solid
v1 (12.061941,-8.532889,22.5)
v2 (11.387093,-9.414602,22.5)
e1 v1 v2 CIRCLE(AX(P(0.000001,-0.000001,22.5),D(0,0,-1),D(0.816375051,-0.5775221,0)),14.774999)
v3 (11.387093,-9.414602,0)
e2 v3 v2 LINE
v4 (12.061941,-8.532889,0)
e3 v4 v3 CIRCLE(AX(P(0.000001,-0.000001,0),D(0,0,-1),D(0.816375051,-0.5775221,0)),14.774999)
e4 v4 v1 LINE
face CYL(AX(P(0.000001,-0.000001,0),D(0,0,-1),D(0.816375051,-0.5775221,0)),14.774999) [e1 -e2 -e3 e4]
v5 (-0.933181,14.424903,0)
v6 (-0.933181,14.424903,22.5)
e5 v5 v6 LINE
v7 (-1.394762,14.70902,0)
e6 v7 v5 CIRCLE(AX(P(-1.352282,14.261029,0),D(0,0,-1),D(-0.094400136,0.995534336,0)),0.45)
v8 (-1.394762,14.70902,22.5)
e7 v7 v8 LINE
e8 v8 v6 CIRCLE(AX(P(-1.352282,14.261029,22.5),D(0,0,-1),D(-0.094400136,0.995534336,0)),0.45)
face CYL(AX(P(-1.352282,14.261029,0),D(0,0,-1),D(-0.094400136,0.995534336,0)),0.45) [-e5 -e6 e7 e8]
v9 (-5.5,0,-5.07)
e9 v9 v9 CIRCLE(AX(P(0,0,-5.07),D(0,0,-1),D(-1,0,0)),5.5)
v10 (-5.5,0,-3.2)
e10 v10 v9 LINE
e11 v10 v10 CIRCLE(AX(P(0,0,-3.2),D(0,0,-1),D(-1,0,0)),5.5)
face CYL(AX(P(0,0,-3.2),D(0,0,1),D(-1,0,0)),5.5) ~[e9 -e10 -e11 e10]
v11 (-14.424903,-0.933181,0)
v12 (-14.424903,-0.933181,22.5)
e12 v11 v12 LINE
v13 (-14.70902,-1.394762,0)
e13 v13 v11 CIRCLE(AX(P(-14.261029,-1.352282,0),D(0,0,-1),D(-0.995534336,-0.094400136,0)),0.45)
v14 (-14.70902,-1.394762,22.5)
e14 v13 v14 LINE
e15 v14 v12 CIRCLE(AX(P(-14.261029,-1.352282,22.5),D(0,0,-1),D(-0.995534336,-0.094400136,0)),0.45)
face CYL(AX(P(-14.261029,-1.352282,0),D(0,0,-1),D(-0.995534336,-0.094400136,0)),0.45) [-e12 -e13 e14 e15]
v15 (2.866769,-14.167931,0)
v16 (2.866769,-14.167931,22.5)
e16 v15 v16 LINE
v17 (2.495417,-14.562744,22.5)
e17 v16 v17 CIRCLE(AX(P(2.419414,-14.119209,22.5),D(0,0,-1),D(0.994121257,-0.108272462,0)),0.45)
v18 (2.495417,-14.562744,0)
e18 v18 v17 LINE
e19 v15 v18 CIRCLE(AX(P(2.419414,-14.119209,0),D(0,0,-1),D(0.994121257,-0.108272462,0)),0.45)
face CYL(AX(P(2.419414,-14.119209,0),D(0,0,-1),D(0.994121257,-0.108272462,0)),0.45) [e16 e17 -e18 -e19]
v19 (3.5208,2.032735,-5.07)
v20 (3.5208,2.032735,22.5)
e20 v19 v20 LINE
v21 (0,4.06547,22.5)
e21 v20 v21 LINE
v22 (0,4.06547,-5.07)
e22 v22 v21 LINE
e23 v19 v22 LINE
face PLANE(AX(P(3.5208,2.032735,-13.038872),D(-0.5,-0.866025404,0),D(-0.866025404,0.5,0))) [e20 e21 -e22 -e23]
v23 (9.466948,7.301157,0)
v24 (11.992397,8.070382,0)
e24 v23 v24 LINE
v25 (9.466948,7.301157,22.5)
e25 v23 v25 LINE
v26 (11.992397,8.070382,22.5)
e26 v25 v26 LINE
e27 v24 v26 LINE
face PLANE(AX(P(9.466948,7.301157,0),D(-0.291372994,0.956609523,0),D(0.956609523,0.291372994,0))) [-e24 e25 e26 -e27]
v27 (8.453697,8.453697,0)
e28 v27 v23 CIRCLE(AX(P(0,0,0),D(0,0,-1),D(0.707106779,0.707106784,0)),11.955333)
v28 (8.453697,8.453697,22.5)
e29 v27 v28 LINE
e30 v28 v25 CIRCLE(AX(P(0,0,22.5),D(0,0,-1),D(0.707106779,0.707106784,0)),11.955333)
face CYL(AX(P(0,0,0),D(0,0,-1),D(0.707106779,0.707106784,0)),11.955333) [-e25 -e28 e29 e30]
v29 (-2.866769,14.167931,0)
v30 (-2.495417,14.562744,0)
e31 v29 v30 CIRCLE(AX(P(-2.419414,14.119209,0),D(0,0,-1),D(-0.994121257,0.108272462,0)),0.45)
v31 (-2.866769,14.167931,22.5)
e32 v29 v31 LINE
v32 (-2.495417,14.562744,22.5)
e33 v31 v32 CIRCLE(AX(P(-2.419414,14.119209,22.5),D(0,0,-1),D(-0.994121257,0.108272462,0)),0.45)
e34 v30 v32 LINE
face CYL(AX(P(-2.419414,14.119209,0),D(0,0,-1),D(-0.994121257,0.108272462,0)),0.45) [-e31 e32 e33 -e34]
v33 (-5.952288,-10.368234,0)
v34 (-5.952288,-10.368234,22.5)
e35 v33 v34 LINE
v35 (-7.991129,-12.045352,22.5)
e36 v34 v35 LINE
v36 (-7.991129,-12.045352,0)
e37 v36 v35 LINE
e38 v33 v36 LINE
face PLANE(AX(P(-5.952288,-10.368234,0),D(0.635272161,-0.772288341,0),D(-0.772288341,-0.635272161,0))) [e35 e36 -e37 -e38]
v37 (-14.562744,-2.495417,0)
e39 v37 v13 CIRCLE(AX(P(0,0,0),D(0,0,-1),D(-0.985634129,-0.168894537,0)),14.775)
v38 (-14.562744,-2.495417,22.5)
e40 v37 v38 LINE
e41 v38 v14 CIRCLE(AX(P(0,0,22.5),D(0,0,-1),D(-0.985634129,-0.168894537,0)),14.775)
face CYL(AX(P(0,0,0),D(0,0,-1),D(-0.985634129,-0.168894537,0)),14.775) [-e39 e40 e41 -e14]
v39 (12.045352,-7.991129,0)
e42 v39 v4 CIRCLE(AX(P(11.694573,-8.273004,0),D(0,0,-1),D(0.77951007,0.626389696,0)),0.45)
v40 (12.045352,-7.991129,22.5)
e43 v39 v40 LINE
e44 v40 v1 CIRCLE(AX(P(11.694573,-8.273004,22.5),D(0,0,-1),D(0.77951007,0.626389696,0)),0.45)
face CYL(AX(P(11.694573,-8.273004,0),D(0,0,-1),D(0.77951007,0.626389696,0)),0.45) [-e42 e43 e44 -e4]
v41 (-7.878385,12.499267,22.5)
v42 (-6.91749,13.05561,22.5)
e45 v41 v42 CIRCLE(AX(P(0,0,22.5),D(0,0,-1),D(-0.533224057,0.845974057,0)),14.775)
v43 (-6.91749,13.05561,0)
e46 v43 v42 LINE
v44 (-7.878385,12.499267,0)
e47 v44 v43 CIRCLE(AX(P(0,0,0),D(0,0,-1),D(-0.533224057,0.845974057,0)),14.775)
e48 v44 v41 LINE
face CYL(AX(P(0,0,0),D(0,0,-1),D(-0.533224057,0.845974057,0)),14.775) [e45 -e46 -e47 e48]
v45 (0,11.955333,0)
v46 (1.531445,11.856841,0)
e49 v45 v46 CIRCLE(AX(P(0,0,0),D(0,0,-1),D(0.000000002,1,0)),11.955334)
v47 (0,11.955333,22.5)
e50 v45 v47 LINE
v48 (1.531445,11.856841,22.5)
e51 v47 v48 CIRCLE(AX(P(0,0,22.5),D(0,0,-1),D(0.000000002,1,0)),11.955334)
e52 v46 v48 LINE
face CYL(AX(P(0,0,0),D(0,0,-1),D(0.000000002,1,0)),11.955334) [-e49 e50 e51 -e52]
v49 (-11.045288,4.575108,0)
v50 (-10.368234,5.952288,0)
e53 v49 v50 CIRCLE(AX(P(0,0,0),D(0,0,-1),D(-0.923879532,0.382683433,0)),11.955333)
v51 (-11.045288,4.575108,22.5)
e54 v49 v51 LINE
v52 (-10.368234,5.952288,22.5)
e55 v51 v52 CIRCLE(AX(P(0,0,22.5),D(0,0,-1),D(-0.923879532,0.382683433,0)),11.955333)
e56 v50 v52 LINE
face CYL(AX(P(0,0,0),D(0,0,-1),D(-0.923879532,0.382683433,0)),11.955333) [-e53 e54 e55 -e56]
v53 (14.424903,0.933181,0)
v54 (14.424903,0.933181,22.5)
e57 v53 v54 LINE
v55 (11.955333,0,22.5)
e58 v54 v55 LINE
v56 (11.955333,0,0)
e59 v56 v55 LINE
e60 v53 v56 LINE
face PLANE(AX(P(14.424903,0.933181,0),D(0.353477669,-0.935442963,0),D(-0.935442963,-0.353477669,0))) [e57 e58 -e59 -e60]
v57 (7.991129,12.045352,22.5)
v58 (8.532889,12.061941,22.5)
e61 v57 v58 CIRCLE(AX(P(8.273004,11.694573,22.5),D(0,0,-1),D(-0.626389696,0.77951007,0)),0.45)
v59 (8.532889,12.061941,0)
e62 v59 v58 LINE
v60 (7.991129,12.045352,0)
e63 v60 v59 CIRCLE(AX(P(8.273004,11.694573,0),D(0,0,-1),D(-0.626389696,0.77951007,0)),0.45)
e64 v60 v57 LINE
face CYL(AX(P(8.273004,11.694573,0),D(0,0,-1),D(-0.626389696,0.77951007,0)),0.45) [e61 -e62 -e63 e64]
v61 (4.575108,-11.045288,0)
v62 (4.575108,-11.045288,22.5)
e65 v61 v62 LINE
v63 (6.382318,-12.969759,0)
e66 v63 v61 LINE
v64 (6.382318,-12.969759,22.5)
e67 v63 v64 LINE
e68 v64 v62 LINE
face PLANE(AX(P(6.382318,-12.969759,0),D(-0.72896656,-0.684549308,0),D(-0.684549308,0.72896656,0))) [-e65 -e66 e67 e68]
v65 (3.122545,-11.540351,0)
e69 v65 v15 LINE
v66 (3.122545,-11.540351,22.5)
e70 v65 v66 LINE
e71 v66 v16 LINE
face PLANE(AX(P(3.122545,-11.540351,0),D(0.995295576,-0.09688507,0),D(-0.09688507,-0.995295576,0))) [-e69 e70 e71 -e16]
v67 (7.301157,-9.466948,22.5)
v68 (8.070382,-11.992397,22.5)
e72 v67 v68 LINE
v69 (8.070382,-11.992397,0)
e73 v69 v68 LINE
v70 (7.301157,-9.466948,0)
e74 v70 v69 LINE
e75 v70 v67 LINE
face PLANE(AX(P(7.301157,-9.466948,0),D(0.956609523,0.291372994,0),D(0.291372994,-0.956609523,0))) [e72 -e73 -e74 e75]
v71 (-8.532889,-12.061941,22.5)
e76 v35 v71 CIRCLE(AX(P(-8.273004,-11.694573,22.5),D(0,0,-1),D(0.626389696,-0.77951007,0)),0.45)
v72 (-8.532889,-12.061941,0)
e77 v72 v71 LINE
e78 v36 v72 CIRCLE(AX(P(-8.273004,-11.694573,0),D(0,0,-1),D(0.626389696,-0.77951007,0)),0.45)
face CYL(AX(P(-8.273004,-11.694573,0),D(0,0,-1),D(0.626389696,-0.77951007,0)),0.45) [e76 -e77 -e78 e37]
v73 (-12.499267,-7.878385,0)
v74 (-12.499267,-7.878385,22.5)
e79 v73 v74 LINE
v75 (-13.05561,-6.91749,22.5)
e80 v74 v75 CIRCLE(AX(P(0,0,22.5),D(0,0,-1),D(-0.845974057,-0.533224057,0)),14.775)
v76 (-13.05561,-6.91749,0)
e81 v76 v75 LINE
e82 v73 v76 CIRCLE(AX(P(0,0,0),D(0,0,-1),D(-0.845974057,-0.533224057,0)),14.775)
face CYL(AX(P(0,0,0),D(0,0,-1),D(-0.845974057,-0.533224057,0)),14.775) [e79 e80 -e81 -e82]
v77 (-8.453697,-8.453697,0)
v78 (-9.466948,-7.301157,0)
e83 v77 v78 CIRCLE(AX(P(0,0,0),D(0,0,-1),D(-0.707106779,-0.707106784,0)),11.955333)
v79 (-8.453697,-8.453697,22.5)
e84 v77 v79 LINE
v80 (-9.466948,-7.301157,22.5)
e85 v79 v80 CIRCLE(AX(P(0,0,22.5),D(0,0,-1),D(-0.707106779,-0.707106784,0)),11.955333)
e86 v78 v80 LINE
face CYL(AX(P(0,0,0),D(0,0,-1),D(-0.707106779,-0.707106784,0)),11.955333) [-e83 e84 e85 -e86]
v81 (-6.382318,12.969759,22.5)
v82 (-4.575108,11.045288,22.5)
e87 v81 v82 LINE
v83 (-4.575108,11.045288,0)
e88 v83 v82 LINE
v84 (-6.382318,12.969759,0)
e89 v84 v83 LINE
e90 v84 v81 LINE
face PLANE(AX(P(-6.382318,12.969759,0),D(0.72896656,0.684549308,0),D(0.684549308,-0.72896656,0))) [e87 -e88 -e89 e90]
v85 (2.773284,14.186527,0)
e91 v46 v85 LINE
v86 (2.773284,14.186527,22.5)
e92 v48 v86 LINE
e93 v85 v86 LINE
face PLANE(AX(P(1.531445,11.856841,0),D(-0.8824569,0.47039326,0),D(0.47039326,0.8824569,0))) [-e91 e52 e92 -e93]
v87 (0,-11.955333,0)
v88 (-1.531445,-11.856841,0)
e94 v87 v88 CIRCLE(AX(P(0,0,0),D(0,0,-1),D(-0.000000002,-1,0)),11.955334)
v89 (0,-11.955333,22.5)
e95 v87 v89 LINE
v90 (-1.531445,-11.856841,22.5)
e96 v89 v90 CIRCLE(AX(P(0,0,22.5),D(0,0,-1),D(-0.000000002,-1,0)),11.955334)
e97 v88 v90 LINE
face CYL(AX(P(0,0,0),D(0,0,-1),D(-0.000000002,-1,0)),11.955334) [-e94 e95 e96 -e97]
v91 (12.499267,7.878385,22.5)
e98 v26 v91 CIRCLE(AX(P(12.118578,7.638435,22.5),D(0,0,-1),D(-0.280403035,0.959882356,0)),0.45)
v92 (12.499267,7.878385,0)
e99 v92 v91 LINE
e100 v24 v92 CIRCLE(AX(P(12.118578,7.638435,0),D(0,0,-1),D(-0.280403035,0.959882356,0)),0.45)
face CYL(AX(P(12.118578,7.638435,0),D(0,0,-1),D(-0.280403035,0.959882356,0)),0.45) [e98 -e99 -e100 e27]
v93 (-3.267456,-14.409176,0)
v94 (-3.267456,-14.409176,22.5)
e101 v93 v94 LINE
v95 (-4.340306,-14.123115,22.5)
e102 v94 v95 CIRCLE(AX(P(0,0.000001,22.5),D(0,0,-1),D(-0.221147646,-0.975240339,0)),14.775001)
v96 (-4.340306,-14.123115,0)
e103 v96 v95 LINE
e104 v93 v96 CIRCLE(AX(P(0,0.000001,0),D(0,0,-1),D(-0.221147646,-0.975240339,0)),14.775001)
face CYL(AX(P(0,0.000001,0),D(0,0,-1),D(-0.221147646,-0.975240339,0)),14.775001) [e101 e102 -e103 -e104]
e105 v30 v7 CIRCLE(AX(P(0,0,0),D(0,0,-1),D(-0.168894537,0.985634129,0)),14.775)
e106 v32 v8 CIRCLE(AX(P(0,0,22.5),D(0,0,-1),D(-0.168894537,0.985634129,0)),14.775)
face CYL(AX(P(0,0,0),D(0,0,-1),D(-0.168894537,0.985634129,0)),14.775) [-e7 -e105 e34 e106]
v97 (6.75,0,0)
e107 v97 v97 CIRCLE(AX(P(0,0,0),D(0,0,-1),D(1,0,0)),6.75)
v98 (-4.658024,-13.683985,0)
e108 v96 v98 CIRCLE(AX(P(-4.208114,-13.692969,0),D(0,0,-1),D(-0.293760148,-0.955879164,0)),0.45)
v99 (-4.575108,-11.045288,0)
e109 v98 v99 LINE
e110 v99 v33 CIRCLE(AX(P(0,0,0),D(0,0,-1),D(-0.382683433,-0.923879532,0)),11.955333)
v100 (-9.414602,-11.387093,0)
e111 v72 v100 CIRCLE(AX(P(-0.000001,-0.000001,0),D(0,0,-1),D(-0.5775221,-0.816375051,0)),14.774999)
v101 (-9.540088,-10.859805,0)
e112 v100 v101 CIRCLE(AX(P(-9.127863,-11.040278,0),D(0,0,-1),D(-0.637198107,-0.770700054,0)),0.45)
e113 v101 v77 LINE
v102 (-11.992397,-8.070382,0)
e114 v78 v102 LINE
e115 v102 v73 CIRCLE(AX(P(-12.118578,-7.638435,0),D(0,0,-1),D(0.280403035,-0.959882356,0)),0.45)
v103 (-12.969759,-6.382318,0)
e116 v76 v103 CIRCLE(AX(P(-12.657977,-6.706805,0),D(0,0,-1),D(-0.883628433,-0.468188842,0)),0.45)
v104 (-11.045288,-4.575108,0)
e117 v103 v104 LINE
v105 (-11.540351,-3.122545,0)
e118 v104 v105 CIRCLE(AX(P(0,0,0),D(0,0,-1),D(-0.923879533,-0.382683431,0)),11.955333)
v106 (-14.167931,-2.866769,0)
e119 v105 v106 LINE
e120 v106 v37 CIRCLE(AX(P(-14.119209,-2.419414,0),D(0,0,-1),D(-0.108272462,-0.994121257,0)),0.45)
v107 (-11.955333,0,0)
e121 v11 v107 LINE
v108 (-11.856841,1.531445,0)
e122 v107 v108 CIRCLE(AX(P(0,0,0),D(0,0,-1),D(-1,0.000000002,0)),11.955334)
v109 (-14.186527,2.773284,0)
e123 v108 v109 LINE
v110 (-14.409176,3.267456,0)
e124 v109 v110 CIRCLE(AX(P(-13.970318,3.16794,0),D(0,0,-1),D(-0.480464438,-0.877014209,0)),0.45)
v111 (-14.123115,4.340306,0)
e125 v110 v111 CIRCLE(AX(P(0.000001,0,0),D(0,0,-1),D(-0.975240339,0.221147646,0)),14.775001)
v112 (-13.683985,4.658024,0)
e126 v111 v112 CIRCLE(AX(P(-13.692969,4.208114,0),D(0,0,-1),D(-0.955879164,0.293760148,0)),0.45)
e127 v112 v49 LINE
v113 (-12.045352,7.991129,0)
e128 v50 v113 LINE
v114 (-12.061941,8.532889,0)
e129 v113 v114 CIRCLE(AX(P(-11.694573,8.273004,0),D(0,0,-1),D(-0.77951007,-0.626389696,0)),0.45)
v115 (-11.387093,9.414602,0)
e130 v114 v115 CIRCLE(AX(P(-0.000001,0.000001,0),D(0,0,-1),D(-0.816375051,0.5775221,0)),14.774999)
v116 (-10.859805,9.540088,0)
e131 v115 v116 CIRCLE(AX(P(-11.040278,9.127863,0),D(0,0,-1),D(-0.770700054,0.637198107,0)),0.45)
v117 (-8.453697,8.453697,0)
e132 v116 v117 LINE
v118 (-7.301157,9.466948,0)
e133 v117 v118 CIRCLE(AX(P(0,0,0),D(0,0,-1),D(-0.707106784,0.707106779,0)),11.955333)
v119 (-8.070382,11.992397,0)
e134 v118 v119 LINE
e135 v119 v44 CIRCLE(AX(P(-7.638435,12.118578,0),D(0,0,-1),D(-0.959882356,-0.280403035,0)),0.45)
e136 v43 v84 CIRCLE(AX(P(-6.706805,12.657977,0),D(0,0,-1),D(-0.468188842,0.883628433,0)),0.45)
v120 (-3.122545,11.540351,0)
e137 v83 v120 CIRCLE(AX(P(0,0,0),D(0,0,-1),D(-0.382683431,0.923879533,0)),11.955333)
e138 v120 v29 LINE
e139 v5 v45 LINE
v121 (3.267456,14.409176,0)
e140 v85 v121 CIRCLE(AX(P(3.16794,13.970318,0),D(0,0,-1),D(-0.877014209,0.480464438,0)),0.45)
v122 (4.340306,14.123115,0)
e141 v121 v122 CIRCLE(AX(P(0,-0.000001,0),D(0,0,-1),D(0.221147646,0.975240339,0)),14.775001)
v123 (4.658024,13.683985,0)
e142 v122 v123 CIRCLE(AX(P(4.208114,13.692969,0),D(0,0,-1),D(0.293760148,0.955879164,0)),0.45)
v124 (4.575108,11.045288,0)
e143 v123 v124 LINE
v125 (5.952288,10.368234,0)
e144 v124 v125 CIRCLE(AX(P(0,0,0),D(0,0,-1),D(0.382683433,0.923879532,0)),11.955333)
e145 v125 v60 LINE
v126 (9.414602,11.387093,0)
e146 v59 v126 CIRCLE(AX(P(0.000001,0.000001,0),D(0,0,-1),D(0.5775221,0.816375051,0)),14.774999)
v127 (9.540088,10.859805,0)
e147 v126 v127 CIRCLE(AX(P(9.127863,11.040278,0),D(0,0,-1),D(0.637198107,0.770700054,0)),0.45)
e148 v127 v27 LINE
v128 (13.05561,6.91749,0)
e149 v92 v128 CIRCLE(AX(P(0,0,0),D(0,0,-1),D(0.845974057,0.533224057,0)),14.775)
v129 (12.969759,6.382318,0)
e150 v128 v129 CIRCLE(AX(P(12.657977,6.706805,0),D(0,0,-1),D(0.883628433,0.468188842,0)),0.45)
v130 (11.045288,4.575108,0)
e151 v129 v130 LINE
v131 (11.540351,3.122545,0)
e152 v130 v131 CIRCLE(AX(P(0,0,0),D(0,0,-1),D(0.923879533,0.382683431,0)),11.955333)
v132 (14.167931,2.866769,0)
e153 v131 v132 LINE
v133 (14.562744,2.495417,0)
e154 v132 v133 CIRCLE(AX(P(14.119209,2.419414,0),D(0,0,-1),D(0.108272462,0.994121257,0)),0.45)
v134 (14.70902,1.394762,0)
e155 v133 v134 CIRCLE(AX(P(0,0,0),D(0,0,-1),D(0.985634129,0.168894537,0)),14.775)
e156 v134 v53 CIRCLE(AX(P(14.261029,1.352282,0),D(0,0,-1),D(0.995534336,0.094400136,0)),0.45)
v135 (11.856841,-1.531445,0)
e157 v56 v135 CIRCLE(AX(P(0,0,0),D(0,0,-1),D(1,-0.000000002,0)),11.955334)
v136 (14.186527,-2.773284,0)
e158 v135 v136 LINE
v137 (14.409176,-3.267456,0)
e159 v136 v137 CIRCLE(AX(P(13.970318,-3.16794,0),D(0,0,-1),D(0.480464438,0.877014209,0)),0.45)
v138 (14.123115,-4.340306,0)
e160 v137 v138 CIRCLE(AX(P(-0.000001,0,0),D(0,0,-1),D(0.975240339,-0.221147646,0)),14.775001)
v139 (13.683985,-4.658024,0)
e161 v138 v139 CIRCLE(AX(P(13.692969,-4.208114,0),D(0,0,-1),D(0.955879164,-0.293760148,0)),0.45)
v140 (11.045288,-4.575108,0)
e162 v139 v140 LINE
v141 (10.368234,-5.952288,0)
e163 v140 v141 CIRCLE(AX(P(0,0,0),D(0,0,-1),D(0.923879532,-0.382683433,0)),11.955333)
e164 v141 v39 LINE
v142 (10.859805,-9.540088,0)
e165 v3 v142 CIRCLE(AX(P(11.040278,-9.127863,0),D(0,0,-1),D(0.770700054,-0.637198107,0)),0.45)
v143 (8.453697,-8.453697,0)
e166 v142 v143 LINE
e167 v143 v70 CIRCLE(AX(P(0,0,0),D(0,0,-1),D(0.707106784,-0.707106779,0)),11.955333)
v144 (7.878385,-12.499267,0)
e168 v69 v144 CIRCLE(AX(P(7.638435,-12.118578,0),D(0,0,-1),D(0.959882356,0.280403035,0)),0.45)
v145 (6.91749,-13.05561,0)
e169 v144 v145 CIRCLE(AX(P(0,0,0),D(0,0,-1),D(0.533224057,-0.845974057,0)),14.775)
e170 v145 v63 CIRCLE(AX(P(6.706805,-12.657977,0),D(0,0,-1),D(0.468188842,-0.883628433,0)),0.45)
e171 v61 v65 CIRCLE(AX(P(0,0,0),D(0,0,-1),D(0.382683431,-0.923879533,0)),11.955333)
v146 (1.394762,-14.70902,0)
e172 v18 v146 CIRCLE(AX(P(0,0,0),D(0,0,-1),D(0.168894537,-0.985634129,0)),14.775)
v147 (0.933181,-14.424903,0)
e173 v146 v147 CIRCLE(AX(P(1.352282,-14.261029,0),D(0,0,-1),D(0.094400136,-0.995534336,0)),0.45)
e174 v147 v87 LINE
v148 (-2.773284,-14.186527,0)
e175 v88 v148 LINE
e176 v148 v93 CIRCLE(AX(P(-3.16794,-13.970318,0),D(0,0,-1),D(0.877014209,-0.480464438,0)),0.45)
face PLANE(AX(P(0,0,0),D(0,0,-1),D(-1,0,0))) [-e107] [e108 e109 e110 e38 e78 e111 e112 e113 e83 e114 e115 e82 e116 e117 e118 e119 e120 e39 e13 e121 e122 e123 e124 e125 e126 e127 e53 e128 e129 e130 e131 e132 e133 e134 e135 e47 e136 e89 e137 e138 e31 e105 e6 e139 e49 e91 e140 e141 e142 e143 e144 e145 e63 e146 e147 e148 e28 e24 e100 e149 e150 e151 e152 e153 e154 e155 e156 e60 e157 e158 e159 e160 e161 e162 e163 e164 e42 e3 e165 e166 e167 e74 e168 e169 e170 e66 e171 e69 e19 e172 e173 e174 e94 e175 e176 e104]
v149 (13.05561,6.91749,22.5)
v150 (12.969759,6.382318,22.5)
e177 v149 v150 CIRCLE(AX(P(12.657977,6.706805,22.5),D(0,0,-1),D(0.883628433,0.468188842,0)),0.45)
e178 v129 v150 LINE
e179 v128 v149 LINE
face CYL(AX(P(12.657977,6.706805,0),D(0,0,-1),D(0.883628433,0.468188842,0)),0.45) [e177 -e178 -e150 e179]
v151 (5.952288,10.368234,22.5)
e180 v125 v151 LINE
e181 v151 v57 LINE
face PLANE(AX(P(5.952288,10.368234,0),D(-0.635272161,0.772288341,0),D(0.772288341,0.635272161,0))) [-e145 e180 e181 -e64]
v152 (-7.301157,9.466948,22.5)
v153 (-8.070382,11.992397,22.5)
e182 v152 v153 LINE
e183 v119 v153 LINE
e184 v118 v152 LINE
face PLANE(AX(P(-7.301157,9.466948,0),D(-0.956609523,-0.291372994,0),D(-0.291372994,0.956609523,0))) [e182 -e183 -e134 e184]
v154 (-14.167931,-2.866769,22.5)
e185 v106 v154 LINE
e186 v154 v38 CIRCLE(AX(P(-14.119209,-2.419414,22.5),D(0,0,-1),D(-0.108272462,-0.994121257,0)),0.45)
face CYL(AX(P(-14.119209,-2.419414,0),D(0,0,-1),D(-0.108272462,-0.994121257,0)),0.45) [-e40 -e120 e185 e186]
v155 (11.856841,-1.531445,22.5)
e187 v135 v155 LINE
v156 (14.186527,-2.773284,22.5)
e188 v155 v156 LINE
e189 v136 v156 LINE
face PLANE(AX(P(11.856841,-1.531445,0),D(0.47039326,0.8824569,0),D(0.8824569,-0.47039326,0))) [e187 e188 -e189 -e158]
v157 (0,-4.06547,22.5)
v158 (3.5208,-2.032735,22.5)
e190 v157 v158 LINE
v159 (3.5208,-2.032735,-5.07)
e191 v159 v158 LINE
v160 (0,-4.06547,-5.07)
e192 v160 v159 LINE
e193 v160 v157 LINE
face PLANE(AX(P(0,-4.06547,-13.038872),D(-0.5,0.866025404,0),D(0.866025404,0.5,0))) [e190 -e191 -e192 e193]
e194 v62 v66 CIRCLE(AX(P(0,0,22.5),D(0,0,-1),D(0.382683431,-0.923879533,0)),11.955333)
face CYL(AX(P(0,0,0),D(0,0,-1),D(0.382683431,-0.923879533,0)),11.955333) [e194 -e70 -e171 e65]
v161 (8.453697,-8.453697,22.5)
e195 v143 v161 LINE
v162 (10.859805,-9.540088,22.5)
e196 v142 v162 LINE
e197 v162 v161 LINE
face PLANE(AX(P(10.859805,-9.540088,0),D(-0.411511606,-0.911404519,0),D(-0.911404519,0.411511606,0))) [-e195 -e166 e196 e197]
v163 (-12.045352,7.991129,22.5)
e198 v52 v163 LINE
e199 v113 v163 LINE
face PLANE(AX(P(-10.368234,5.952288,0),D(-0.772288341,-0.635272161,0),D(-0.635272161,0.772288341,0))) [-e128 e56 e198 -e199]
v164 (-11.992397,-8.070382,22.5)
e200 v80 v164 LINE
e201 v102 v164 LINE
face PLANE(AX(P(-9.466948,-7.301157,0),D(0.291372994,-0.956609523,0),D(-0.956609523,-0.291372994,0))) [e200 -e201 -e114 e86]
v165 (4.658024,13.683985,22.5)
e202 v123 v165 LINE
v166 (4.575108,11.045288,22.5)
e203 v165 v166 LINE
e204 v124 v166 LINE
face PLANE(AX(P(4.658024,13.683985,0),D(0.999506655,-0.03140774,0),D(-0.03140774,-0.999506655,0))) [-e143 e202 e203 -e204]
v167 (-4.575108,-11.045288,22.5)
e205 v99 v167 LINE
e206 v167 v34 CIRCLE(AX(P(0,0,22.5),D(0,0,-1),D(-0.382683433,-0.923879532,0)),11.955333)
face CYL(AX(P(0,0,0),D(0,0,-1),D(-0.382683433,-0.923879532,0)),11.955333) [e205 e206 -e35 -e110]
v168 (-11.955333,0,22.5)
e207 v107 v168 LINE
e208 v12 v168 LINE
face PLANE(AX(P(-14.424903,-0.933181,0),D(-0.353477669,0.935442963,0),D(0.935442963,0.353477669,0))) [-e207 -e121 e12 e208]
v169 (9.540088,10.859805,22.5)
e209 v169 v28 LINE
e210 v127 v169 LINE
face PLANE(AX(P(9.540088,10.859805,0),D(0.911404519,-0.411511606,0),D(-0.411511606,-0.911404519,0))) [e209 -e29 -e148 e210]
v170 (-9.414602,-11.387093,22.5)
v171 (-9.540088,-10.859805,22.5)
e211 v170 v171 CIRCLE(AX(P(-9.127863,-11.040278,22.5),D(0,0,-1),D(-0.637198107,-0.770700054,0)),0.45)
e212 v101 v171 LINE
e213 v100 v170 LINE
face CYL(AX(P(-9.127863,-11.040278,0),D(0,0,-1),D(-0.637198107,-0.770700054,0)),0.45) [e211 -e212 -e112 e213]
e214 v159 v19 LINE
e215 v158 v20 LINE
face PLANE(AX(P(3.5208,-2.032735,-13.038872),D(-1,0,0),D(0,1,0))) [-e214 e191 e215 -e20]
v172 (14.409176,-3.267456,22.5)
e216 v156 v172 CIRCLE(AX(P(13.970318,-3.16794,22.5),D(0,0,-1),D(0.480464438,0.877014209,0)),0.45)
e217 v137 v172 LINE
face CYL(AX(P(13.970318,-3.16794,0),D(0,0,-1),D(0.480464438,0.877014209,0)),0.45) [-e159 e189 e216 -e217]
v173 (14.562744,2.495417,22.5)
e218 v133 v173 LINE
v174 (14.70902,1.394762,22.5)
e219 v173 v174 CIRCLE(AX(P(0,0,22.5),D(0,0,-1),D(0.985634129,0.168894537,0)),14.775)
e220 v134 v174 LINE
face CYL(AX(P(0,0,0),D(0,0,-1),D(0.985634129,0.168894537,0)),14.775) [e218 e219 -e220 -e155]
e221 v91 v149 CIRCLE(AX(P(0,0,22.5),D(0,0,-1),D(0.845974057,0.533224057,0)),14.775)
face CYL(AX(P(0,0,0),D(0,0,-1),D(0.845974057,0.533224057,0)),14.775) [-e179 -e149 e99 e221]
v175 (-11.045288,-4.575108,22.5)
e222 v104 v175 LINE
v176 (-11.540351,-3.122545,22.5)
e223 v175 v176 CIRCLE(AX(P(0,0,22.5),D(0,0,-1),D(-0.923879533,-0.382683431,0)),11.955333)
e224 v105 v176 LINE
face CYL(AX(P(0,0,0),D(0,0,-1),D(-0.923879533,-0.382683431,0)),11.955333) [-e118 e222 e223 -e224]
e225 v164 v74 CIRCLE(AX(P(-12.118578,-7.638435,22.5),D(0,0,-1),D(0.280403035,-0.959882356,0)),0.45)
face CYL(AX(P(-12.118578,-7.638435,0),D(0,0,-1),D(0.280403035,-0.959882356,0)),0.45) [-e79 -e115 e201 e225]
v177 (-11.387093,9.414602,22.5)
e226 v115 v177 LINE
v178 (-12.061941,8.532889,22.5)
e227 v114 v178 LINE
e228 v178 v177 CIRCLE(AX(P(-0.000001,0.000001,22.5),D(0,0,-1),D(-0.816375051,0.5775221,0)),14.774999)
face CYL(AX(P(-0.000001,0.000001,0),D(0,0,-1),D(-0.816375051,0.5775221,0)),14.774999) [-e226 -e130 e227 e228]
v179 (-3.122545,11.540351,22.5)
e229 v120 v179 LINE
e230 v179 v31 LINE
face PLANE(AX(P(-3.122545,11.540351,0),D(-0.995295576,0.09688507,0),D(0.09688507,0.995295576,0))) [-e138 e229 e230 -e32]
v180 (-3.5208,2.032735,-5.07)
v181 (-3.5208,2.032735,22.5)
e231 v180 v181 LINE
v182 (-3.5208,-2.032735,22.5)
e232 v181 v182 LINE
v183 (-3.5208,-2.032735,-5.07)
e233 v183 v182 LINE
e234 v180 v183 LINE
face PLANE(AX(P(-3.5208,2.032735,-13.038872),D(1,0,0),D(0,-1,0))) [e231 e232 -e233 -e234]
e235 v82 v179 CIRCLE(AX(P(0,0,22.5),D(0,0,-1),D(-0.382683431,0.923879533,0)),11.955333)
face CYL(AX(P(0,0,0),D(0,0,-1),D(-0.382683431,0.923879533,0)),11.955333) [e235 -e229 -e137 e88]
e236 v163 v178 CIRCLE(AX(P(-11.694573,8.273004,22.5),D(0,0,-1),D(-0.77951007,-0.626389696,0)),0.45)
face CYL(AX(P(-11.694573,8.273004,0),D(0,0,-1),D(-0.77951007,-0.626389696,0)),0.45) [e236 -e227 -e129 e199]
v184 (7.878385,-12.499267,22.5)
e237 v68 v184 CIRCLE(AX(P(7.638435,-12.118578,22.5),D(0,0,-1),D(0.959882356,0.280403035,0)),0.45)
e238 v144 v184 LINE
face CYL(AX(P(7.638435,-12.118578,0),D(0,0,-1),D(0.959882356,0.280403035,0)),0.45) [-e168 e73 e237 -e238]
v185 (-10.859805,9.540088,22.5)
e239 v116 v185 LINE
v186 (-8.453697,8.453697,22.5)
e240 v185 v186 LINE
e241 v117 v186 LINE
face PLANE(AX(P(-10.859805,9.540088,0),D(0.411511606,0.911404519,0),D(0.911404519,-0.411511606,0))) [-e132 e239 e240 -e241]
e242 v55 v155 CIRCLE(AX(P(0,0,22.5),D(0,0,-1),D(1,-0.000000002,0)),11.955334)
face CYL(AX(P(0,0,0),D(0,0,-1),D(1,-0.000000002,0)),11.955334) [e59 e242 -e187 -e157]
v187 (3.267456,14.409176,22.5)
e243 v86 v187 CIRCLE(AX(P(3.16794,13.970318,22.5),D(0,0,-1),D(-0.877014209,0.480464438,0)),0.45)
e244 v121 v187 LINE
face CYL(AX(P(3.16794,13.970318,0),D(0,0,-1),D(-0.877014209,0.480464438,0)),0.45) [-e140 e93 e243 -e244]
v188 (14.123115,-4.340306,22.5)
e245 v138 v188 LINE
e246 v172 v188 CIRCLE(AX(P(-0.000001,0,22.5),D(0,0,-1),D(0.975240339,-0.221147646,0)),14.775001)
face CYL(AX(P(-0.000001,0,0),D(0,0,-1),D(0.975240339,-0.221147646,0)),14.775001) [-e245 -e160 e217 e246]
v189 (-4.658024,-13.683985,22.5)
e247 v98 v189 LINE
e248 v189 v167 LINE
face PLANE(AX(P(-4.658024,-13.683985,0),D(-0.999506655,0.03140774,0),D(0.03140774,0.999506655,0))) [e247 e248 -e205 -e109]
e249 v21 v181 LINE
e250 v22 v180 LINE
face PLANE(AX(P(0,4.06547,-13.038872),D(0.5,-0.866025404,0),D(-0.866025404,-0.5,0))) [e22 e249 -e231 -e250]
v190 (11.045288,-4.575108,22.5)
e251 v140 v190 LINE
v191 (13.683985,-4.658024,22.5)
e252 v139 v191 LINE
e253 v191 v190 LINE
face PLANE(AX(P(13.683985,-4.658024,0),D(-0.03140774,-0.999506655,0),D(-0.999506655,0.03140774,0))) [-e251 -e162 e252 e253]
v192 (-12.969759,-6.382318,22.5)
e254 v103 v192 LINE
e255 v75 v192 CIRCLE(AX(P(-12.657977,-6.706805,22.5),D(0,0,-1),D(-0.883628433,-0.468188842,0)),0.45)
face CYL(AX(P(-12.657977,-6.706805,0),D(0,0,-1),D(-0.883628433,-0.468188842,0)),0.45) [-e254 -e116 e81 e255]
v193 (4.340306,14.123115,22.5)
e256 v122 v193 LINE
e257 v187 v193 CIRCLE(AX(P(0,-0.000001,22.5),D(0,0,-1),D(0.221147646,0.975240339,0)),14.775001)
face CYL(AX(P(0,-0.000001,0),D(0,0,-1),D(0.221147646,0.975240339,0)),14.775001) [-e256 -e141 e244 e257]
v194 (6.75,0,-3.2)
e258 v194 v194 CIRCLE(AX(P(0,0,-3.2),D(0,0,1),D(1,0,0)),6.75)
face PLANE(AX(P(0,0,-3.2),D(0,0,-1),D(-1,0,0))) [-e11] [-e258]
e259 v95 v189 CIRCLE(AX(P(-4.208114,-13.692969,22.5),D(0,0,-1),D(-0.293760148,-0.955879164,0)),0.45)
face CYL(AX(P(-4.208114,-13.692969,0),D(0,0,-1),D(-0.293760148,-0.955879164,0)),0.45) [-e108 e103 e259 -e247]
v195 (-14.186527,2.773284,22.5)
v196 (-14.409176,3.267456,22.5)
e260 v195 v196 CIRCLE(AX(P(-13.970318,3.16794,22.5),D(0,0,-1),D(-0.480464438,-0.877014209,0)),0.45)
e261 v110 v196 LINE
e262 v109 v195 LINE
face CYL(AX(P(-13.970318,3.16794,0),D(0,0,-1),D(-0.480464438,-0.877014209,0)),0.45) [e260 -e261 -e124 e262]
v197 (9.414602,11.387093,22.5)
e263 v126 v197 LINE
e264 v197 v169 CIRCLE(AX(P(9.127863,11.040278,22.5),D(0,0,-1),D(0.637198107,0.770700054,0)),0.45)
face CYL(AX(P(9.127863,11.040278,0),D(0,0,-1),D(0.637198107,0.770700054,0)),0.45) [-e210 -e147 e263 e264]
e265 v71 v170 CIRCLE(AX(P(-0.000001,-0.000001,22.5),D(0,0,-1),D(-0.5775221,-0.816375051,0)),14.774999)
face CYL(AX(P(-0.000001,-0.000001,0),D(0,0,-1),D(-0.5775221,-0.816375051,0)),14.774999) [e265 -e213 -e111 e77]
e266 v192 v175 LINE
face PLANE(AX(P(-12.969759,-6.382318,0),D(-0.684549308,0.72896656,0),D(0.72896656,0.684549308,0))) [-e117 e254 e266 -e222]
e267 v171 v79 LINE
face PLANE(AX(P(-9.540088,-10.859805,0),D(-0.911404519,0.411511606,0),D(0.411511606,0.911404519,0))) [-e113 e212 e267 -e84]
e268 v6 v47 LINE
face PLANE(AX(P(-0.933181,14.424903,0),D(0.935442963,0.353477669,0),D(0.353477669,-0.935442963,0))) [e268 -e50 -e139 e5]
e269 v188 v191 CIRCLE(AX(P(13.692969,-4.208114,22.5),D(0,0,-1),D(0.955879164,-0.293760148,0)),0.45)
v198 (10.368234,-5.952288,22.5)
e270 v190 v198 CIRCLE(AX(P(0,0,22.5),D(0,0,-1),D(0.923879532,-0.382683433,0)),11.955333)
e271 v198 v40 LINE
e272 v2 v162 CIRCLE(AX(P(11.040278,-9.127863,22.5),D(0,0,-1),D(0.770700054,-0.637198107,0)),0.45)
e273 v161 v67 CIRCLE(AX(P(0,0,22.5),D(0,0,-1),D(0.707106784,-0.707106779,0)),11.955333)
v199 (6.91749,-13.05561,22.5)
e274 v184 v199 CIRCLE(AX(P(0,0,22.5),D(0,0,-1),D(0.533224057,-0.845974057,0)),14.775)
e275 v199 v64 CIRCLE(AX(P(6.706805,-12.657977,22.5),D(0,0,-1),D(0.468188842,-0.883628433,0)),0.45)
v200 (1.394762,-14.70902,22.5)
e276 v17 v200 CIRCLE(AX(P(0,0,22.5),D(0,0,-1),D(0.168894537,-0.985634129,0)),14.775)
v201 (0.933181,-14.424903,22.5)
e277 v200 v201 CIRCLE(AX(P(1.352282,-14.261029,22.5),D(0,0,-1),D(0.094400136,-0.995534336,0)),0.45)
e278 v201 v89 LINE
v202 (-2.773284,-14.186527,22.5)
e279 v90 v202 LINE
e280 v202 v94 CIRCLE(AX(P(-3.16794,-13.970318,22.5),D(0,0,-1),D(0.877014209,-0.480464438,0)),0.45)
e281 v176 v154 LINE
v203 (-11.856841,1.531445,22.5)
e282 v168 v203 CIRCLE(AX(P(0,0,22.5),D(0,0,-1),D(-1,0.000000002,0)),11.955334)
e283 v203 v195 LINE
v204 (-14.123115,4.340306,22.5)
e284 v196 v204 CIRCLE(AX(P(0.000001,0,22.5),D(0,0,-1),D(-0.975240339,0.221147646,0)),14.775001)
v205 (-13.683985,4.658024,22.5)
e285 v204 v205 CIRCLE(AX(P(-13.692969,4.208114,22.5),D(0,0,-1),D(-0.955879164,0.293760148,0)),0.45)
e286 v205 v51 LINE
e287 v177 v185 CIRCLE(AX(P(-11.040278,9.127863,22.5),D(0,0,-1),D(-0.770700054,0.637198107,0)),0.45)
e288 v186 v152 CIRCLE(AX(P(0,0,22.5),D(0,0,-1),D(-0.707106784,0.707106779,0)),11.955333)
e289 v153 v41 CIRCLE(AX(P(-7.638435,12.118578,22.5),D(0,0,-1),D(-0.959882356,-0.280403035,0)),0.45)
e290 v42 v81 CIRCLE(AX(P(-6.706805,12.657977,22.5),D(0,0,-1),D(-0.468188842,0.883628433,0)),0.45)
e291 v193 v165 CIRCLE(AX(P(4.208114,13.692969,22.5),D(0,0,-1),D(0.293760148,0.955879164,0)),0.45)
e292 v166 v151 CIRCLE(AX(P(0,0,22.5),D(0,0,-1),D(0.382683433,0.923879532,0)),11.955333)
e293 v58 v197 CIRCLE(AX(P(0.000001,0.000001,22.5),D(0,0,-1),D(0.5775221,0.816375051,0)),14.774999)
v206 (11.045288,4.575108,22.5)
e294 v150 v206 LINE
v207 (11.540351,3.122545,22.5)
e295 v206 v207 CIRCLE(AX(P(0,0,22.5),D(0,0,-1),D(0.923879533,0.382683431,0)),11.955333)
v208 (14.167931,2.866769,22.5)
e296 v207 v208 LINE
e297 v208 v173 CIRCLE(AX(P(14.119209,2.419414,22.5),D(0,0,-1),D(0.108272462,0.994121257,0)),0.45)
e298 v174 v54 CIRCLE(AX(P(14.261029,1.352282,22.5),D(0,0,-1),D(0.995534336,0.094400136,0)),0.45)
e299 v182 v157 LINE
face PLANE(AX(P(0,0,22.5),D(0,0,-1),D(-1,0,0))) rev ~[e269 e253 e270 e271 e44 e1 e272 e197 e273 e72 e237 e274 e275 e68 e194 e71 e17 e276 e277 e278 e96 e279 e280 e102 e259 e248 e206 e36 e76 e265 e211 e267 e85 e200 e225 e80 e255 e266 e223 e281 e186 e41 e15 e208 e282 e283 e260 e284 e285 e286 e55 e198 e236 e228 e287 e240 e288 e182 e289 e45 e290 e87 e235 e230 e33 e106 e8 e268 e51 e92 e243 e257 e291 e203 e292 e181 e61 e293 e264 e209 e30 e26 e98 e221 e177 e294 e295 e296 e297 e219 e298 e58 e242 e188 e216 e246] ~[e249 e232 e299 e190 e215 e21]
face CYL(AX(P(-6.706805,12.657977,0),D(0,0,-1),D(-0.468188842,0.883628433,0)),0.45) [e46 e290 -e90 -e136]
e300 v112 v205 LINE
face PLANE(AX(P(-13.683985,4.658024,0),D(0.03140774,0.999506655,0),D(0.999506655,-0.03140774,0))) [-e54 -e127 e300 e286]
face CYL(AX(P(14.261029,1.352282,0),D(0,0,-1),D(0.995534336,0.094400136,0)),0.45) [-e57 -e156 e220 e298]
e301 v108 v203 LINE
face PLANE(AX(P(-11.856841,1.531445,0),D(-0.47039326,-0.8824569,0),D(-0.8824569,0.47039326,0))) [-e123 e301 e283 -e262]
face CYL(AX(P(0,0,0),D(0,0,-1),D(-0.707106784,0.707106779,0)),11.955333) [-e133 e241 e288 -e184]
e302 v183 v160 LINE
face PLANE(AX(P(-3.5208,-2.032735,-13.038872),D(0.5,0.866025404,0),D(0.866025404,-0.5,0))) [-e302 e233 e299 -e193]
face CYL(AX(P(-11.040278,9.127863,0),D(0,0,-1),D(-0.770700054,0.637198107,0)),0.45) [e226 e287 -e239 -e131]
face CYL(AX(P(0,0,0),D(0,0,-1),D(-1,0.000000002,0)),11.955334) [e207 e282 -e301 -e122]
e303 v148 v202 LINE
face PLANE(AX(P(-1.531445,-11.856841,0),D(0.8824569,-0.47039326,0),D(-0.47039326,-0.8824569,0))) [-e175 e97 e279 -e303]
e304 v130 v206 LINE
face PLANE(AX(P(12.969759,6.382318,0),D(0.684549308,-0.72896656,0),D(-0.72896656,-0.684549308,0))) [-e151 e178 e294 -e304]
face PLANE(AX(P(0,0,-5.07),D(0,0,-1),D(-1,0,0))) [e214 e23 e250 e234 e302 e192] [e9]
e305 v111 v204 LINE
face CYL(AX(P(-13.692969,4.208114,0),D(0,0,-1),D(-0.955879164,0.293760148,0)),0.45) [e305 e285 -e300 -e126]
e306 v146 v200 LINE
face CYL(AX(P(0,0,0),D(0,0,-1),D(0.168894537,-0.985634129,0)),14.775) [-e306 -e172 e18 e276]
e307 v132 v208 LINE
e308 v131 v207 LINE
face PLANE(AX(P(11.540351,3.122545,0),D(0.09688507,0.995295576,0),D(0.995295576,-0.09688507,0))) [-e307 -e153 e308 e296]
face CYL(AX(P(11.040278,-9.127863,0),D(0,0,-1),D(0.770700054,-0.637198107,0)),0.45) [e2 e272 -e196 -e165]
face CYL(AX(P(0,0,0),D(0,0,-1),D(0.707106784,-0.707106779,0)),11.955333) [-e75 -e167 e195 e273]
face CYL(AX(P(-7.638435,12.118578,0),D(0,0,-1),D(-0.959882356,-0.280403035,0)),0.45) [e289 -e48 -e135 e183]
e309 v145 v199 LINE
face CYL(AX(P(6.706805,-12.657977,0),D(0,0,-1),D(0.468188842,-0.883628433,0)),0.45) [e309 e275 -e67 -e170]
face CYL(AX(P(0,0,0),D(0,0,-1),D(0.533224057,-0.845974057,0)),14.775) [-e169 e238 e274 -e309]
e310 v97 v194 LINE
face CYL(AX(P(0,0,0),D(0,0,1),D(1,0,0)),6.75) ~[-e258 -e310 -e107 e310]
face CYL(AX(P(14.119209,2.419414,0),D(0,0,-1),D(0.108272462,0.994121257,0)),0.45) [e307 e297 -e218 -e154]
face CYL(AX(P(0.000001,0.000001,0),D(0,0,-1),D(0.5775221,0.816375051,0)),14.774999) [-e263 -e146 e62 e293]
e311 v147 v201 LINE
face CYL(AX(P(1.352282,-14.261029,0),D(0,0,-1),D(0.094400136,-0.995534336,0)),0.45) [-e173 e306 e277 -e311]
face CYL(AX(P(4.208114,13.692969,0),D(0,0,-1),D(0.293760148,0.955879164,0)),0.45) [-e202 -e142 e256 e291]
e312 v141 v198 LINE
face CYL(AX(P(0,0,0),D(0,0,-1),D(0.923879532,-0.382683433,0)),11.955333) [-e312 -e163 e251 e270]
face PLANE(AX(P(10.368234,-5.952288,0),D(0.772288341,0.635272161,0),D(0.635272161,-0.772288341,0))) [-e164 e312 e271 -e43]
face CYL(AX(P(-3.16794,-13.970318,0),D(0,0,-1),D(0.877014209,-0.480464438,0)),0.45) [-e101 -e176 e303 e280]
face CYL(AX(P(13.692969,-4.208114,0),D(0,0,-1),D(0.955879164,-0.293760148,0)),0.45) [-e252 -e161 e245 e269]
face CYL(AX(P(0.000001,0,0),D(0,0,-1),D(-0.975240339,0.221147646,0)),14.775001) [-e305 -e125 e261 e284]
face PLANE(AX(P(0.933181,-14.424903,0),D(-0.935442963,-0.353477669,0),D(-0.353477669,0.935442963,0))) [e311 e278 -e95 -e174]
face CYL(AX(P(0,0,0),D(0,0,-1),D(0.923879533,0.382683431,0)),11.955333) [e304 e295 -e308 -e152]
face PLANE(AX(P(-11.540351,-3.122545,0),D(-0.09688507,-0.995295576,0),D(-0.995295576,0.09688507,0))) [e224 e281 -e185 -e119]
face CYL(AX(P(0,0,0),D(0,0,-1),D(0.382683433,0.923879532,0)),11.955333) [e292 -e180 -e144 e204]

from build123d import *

# Parameters (mm, degrees)
SALIENTE_EXTRUIR1_DEPTH    = 15
CROQUIS5_R                 = 4.5
SALIENTE_EXTRUIR2_DEPTH    = 6
ESCALA1_SCALE              = 1.5
CORTAR_EXTRUIR3_DEPTH      = 38.7502155
CORTAR_EXTRUIR3_DEPTH_BACK = 5.8
CROQUIS7_R                 = 10
CROQUIS8_R                 = 5.5
SALIENTE_EXTRUIR3_DEPTH    = 1.87
CORTAR_EXTRUIR4_DEPTH      = 35.538871873
CORTAR_EXTRUIR4_DEPTH_BACK = 35.538871873


with BuildPart() as part:
    # Croquis2 → Saliente-Extruir1 (new body)
    with BuildSketch(Plane.XY):
        with BuildLine():
            Line((-2.081696937, 7.693567449), (-1.911179214, 9.445287663))
            ThreePointArc((-1.911179214, 9.445287663), (-1.831468139, 9.618345927), (-1.663611198, 9.708496165))
            ThreePointArc((-1.663611198, 9.708496165), (-1.297642615, 9.764149919), (-0.929841298, 9.806013214))
            ThreePointArc((-0.929841298, 9.806013214), (-0.744265019, 9.762833784), (-0.622120698, 9.616601835))
            Line((-0.622120698, 9.616601835), (0, 7.97022222))
            ThreePointArc((0, 7.97022222), (0.511536449, 7.953789832), (1.020963606, 7.904560428))
            Line((1.020963606, 7.904560428), (1.848855744, 9.457684572))
            ThreePointArc((1.848855744, 9.457684572), (1.988725705, 9.587065453), (2.1783043, 9.606117341))
            ThreePointArc((2.1783043, 9.606117341), (2.537712953, 9.517484592), (2.893537451, 9.415409764))
            ThreePointArc((2.893537451, 9.415409764), (3.048463524, 9.304500205), (3.105349619, 9.122656892))
            Line((3.105349619, 9.122656892), (3.050071996, 7.363525179))
            ThreePointArc((3.050071996, 7.363525179), (3.516381649, 7.152587108), (3.968191694, 6.912155736))
            Line((3.968191694, 6.912155736), (5.327419174, 8.030234739))
            ThreePointArc((5.327419174, 8.030234739), (5.506154088, 8.09624117), (5.688592714, 8.041294232))
            ThreePointArc((5.688592714, 8.041294232), (5.986724728, 7.821868513), (6.276401353, 7.591395527))
            ThreePointArc((6.276401353, 7.591395527), (6.37709113, 7.429640815), (6.360058606, 7.239870134))
            Line((6.360058606, 7.239870134), (5.635798179, 5.635798179))
            ThreePointArc((5.635798179, 5.635798179), (5.985889619, 5.262467835), (6.311298569, 4.867437992))
            Line((6.311298569, 4.867437992), (7.994931329, 5.380254461))
            ThreePointArc((7.994931329, 5.380254461), (8.185320425, 5.372837562), (8.332844455, 5.252256971))
            ThreePointArc((8.332844455, 5.252256971), (8.524311933, 4.935443857), (8.703740045, 4.611660138))
            ThreePointArc((8.703740045, 4.611660138), (8.73486442, 4.42368596), (8.646506324, 4.254878777))
            Line((8.646506324, 4.254878777), (7.363525179, 3.050071996))
            ThreePointArc((7.363525179, 3.050071996), (7.544100156, 2.571185538), (7.693567449, 2.081696937))
            Line((7.693567449, 2.081696937), (9.445287663, 1.911179214))
            ThreePointArc((9.445287663, 1.911179214), (9.618345927, 1.831468139), (9.708496165, 1.663611198))
            ThreePointArc((9.708496165, 1.663611198), (9.764149919, 1.297642615), (9.806013214, 0.929841298))
            ThreePointArc((9.806013214, 0.929841298), (9.762833784, 0.744265019), (9.616601835, 0.622120698))
            Line((9.616601835, 0.622120698), (7.97022222, 0))
            ThreePointArc((7.97022222, 0), (7.953789832, -0.511536449), (7.904560428, -1.020963606))
            Line((7.904560428, -1.020963606), (9.457684572, -1.848855744))
            ThreePointArc((9.457684572, -1.848855744), (9.587065453, -1.988725705), (9.606117341, -2.1783043))
            ThreePointArc((9.606117341, -2.1783043), (9.517484592, -2.537712953), (9.415409764, -2.893537451))
            ThreePointArc((9.415409764, -2.893537451), (9.304500205, -3.048463524), (9.122656892, -3.105349619))
            Line((9.122656892, -3.105349619), (7.363525179, -3.050071996))
            ThreePointArc((7.363525179, -3.050071996), (7.152587108, -3.516381649), (6.912155736, -3.968191694))
            Line((6.912155736, -3.968191694), (8.030234739, -5.327419174))
            ThreePointArc((8.030234739, -5.327419174), (8.09624117, -5.506154088), (8.041294232, -5.688592714))
            ThreePointArc((8.041294232, -5.688592714), (7.821868513, -5.986724728), (7.591395527, -6.276401353))
            ThreePointArc((7.591395527, -6.276401353), (7.429640815, -6.37709113), (7.239870134, -6.360058606))
            Line((7.239870134, -6.360058606), (5.635798179, -5.635798179))
            ThreePointArc((5.635798179, -5.635798179), (5.262467835, -5.985889619), (4.867437992, -6.311298569))
            Line((4.867437992, -6.311298569), (5.380254461, -7.994931329))
            ThreePointArc((5.380254461, -7.994931329), (5.372837562, -8.185320425), (5.252256971, -8.332844455))
            ThreePointArc((5.252256971, -8.332844455), (4.935443857, -8.524311933), (4.611660138, -8.703740045))
            ThreePointArc((4.611660138, -8.703740045), (4.42368596, -8.73486442), (4.254878777, -8.646506324))
            Line((4.254878777, -8.646506324), (3.050071996, -7.363525179))
            ThreePointArc((3.050071996, -7.363525179), (2.571185538, -7.544100156), (2.081696937, -7.693567449))
            Line((2.081696937, -7.693567449), (1.911179214, -9.445287663))
            ThreePointArc((1.911179214, -9.445287663), (1.831468139, -9.618345927), (1.663611198, -9.708496165))
            ThreePointArc((1.663611198, -9.708496165), (1.297642615, -9.764149919), (0.929841298, -9.806013214))
            ThreePointArc((0.929841298, -9.806013214), (0.744265019, -9.762833784), (0.622120698, -9.616601835))
            Line((0.622120698, -9.616601835), (0, -7.97022222))
            ThreePointArc((0, -7.97022222), (-0.511536449, -7.953789832), (-1.020963606, -7.904560428))
            Line((-1.020963606, -7.904560428), (-1.848855744, -9.457684572))
            ThreePointArc((-1.848855744, -9.457684572), (-1.988725705, -9.587065453), (-2.1783043, -9.606117341))
            ThreePointArc((-2.1783043, -9.606117341), (-2.537712953, -9.517484592), (-2.893537451, -9.415409764))
            ThreePointArc((-2.893537451, -9.415409764), (-3.048463524, -9.304500205), (-3.105349619, -9.122656892))
            Line((-3.105349619, -9.122656892), (-3.050071996, -7.363525179))
            ThreePointArc((-3.050071996, -7.363525179), (-3.516381649, -7.152587108), (-3.968191694, -6.912155736))
            Line((-3.968191694, -6.912155736), (-5.327419174, -8.030234739))
            ThreePointArc((-5.327419174, -8.030234739), (-5.506154088, -8.09624117), (-5.688592714, -8.041294232))
            ThreePointArc((-5.688592714, -8.041294232), (-5.986724728, -7.821868513), (-6.276401353, -7.591395527))
            ThreePointArc((-6.276401353, -7.591395527), (-6.37709113, -7.429640815), (-6.360058606, -7.239870134))
            Line((-6.360058606, -7.239870134), (-5.635798179, -5.635798179))
            ThreePointArc((-5.635798179, -5.635798179), (-5.985889619, -5.262467835), (-6.311298569, -4.867437992))
            Line((-6.311298569, -4.867437992), (-7.994931329, -5.380254461))
            ThreePointArc((-7.994931329, -5.380254461), (-8.185320425, -5.372837562), (-8.332844455, -5.252256971))
            ThreePointArc((-8.332844455, -5.252256971), (-8.524311933, -4.935443857), (-8.703740045, -4.611660138))
            ThreePointArc((-8.703740045, -4.611660138), (-8.73486442, -4.42368596), (-8.646506324, -4.254878777))
            Line((-8.646506324, -4.254878777), (-7.363525179, -3.050071996))
            ThreePointArc((-7.363525179, -3.050071996), (-7.544100156, -2.571185538), (-7.693567449, -2.081696937))
            Line((-7.693567449, -2.081696937), (-9.445287663, -1.911179214))
            ThreePointArc((-9.445287663, -1.911179214), (-9.618345927, -1.831468139), (-9.708496165, -1.663611198))
            ThreePointArc((-9.708496165, -1.663611198), (-9.764149919, -1.297642615), (-9.806013214, -0.929841298))
            ThreePointArc((-9.806013214, -0.929841298), (-9.762833784, -0.744265019), (-9.616601835, -0.622120698))
            Line((-9.616601835, -0.622120698), (-7.97022222, 0))
            ThreePointArc((-7.97022222, 0), (-7.953789832, 0.511536449), (-7.904560428, 1.020963606))
            Line((-7.904560428, 1.020963606), (-9.457684572, 1.848855744))
            ThreePointArc((-9.457684572, 1.848855744), (-9.587065453, 1.988725705), (-9.606117341, 2.1783043))
            ThreePointArc((-9.606117341, 2.1783043), (-9.517484592, 2.537712953), (-9.415409764, 2.893537451))
            ThreePointArc((-9.415409764, 2.893537451), (-9.304500205, 3.048463524), (-9.122656892, 3.105349619))
            Line((-9.122656892, 3.105349619), (-7.363525179, 3.050071996))
            ThreePointArc((-7.363525179, 3.050071996), (-7.152587108, 3.516381649), (-6.912155736, 3.968191694))
            Line((-6.912155736, 3.968191694), (-8.030234739, 5.327419174))
            ThreePointArc((-8.030234739, 5.327419174), (-8.09624117, 5.506154088), (-8.041294232, 5.688592714))
            ThreePointArc((-8.041294232, 5.688592714), (-7.821868513, 5.986724728), (-7.591395527, 6.276401353))
            ThreePointArc((-7.591395527, 6.276401353), (-7.429640815, 6.37709113), (-7.239870134, 6.360058606))
            Line((-7.239870134, 6.360058606), (-5.635798179, 5.635798179))
            ThreePointArc((-5.635798179, 5.635798179), (-5.262467835, 5.985889619), (-4.867437992, 6.311298569))
            Line((-4.867437992, 6.311298569), (-5.380254461, 7.994931329))
            ThreePointArc((-5.380254461, 7.994931329), (-5.372837562, 8.185320425), (-5.252256971, 8.332844455))
            ThreePointArc((-5.252256971, 8.332844455), (-4.935443857, 8.524311933), (-4.611660138, 8.703740045))
            ThreePointArc((-4.611660138, 8.703740045), (-4.42368596, 8.73486442), (-4.254878777, 8.646506324))
            Line((-4.254878777, 8.646506324), (-3.050071996, 7.363525179))
            ThreePointArc((-3.050071996, 7.363525179), (-2.571185538, 7.544100156), (-2.081696937, 7.693567449))
        make_face()
    extrude(amount=SALIENTE_EXTRUIR1_DEPTH)

    # Croquis5 → Saliente-Extruir2 (add)
    with BuildSketch(Plane(origin=(0, 0, 0), x_dir=(-1, 0, 0), z_dir=(0, 0, -1))):
        with Locations(Location((0, 0, 0), (0, 0, 180))):
            Circle(CROQUIS5_R)
    extrude(amount=SALIENTE_EXTRUIR2_DEPTH)


with BuildPart() as part_1:
    # Escala1: scaled about (0, 0, 0)
    add(part.part.scale(ESCALA1_SCALE))

    # Croquis7 → Cortar-Extruir3 (cut, two sides: drawn at the far end of the back side and taken through both)
    with BuildSketch(Plane(origin=(0, 0, -9), x_dir=(-1, 0, 0), z_dir=(0, 0, -1)).offset(-CORTAR_EXTRUIR3_DEPTH_BACK)):
        Circle(CROQUIS7_R)
    extrude(amount=CORTAR_EXTRUIR3_DEPTH + CORTAR_EXTRUIR3_DEPTH_BACK, mode=Mode.SUBTRACT)

    # Croquis8 → Saliente-Extruir3 (add)
    with BuildSketch(Plane(origin=(0, 0, -3.2), x_dir=(-1, 0, 0), z_dir=(0, 0, -1))):
        Circle(CROQUIS8_R)
    extrude(amount=SALIENTE_EXTRUIR3_DEPTH)

    # Croquis10 → Cortar-Extruir4 (cut, two sides: drawn at the far end of the back side and taken through both)
    with BuildSketch(Plane.XY.offset(22.5).offset(-CORTAR_EXTRUIR4_DEPTH_BACK)):
        Polygon((0, 4.065470054), (-3.520800345, 2.032735027), (-3.520800345, -2.032735027), (0, -4.065470054), (3.520800345, -2.032735027), (3.520800345, 2.032735027), align=None)
    extrude(amount=CORTAR_EXTRUIR4_DEPTH + CORTAR_EXTRUIR4_DEPTH_BACK, mode=Mode.SUBTRACT)


solid = part_1.part
